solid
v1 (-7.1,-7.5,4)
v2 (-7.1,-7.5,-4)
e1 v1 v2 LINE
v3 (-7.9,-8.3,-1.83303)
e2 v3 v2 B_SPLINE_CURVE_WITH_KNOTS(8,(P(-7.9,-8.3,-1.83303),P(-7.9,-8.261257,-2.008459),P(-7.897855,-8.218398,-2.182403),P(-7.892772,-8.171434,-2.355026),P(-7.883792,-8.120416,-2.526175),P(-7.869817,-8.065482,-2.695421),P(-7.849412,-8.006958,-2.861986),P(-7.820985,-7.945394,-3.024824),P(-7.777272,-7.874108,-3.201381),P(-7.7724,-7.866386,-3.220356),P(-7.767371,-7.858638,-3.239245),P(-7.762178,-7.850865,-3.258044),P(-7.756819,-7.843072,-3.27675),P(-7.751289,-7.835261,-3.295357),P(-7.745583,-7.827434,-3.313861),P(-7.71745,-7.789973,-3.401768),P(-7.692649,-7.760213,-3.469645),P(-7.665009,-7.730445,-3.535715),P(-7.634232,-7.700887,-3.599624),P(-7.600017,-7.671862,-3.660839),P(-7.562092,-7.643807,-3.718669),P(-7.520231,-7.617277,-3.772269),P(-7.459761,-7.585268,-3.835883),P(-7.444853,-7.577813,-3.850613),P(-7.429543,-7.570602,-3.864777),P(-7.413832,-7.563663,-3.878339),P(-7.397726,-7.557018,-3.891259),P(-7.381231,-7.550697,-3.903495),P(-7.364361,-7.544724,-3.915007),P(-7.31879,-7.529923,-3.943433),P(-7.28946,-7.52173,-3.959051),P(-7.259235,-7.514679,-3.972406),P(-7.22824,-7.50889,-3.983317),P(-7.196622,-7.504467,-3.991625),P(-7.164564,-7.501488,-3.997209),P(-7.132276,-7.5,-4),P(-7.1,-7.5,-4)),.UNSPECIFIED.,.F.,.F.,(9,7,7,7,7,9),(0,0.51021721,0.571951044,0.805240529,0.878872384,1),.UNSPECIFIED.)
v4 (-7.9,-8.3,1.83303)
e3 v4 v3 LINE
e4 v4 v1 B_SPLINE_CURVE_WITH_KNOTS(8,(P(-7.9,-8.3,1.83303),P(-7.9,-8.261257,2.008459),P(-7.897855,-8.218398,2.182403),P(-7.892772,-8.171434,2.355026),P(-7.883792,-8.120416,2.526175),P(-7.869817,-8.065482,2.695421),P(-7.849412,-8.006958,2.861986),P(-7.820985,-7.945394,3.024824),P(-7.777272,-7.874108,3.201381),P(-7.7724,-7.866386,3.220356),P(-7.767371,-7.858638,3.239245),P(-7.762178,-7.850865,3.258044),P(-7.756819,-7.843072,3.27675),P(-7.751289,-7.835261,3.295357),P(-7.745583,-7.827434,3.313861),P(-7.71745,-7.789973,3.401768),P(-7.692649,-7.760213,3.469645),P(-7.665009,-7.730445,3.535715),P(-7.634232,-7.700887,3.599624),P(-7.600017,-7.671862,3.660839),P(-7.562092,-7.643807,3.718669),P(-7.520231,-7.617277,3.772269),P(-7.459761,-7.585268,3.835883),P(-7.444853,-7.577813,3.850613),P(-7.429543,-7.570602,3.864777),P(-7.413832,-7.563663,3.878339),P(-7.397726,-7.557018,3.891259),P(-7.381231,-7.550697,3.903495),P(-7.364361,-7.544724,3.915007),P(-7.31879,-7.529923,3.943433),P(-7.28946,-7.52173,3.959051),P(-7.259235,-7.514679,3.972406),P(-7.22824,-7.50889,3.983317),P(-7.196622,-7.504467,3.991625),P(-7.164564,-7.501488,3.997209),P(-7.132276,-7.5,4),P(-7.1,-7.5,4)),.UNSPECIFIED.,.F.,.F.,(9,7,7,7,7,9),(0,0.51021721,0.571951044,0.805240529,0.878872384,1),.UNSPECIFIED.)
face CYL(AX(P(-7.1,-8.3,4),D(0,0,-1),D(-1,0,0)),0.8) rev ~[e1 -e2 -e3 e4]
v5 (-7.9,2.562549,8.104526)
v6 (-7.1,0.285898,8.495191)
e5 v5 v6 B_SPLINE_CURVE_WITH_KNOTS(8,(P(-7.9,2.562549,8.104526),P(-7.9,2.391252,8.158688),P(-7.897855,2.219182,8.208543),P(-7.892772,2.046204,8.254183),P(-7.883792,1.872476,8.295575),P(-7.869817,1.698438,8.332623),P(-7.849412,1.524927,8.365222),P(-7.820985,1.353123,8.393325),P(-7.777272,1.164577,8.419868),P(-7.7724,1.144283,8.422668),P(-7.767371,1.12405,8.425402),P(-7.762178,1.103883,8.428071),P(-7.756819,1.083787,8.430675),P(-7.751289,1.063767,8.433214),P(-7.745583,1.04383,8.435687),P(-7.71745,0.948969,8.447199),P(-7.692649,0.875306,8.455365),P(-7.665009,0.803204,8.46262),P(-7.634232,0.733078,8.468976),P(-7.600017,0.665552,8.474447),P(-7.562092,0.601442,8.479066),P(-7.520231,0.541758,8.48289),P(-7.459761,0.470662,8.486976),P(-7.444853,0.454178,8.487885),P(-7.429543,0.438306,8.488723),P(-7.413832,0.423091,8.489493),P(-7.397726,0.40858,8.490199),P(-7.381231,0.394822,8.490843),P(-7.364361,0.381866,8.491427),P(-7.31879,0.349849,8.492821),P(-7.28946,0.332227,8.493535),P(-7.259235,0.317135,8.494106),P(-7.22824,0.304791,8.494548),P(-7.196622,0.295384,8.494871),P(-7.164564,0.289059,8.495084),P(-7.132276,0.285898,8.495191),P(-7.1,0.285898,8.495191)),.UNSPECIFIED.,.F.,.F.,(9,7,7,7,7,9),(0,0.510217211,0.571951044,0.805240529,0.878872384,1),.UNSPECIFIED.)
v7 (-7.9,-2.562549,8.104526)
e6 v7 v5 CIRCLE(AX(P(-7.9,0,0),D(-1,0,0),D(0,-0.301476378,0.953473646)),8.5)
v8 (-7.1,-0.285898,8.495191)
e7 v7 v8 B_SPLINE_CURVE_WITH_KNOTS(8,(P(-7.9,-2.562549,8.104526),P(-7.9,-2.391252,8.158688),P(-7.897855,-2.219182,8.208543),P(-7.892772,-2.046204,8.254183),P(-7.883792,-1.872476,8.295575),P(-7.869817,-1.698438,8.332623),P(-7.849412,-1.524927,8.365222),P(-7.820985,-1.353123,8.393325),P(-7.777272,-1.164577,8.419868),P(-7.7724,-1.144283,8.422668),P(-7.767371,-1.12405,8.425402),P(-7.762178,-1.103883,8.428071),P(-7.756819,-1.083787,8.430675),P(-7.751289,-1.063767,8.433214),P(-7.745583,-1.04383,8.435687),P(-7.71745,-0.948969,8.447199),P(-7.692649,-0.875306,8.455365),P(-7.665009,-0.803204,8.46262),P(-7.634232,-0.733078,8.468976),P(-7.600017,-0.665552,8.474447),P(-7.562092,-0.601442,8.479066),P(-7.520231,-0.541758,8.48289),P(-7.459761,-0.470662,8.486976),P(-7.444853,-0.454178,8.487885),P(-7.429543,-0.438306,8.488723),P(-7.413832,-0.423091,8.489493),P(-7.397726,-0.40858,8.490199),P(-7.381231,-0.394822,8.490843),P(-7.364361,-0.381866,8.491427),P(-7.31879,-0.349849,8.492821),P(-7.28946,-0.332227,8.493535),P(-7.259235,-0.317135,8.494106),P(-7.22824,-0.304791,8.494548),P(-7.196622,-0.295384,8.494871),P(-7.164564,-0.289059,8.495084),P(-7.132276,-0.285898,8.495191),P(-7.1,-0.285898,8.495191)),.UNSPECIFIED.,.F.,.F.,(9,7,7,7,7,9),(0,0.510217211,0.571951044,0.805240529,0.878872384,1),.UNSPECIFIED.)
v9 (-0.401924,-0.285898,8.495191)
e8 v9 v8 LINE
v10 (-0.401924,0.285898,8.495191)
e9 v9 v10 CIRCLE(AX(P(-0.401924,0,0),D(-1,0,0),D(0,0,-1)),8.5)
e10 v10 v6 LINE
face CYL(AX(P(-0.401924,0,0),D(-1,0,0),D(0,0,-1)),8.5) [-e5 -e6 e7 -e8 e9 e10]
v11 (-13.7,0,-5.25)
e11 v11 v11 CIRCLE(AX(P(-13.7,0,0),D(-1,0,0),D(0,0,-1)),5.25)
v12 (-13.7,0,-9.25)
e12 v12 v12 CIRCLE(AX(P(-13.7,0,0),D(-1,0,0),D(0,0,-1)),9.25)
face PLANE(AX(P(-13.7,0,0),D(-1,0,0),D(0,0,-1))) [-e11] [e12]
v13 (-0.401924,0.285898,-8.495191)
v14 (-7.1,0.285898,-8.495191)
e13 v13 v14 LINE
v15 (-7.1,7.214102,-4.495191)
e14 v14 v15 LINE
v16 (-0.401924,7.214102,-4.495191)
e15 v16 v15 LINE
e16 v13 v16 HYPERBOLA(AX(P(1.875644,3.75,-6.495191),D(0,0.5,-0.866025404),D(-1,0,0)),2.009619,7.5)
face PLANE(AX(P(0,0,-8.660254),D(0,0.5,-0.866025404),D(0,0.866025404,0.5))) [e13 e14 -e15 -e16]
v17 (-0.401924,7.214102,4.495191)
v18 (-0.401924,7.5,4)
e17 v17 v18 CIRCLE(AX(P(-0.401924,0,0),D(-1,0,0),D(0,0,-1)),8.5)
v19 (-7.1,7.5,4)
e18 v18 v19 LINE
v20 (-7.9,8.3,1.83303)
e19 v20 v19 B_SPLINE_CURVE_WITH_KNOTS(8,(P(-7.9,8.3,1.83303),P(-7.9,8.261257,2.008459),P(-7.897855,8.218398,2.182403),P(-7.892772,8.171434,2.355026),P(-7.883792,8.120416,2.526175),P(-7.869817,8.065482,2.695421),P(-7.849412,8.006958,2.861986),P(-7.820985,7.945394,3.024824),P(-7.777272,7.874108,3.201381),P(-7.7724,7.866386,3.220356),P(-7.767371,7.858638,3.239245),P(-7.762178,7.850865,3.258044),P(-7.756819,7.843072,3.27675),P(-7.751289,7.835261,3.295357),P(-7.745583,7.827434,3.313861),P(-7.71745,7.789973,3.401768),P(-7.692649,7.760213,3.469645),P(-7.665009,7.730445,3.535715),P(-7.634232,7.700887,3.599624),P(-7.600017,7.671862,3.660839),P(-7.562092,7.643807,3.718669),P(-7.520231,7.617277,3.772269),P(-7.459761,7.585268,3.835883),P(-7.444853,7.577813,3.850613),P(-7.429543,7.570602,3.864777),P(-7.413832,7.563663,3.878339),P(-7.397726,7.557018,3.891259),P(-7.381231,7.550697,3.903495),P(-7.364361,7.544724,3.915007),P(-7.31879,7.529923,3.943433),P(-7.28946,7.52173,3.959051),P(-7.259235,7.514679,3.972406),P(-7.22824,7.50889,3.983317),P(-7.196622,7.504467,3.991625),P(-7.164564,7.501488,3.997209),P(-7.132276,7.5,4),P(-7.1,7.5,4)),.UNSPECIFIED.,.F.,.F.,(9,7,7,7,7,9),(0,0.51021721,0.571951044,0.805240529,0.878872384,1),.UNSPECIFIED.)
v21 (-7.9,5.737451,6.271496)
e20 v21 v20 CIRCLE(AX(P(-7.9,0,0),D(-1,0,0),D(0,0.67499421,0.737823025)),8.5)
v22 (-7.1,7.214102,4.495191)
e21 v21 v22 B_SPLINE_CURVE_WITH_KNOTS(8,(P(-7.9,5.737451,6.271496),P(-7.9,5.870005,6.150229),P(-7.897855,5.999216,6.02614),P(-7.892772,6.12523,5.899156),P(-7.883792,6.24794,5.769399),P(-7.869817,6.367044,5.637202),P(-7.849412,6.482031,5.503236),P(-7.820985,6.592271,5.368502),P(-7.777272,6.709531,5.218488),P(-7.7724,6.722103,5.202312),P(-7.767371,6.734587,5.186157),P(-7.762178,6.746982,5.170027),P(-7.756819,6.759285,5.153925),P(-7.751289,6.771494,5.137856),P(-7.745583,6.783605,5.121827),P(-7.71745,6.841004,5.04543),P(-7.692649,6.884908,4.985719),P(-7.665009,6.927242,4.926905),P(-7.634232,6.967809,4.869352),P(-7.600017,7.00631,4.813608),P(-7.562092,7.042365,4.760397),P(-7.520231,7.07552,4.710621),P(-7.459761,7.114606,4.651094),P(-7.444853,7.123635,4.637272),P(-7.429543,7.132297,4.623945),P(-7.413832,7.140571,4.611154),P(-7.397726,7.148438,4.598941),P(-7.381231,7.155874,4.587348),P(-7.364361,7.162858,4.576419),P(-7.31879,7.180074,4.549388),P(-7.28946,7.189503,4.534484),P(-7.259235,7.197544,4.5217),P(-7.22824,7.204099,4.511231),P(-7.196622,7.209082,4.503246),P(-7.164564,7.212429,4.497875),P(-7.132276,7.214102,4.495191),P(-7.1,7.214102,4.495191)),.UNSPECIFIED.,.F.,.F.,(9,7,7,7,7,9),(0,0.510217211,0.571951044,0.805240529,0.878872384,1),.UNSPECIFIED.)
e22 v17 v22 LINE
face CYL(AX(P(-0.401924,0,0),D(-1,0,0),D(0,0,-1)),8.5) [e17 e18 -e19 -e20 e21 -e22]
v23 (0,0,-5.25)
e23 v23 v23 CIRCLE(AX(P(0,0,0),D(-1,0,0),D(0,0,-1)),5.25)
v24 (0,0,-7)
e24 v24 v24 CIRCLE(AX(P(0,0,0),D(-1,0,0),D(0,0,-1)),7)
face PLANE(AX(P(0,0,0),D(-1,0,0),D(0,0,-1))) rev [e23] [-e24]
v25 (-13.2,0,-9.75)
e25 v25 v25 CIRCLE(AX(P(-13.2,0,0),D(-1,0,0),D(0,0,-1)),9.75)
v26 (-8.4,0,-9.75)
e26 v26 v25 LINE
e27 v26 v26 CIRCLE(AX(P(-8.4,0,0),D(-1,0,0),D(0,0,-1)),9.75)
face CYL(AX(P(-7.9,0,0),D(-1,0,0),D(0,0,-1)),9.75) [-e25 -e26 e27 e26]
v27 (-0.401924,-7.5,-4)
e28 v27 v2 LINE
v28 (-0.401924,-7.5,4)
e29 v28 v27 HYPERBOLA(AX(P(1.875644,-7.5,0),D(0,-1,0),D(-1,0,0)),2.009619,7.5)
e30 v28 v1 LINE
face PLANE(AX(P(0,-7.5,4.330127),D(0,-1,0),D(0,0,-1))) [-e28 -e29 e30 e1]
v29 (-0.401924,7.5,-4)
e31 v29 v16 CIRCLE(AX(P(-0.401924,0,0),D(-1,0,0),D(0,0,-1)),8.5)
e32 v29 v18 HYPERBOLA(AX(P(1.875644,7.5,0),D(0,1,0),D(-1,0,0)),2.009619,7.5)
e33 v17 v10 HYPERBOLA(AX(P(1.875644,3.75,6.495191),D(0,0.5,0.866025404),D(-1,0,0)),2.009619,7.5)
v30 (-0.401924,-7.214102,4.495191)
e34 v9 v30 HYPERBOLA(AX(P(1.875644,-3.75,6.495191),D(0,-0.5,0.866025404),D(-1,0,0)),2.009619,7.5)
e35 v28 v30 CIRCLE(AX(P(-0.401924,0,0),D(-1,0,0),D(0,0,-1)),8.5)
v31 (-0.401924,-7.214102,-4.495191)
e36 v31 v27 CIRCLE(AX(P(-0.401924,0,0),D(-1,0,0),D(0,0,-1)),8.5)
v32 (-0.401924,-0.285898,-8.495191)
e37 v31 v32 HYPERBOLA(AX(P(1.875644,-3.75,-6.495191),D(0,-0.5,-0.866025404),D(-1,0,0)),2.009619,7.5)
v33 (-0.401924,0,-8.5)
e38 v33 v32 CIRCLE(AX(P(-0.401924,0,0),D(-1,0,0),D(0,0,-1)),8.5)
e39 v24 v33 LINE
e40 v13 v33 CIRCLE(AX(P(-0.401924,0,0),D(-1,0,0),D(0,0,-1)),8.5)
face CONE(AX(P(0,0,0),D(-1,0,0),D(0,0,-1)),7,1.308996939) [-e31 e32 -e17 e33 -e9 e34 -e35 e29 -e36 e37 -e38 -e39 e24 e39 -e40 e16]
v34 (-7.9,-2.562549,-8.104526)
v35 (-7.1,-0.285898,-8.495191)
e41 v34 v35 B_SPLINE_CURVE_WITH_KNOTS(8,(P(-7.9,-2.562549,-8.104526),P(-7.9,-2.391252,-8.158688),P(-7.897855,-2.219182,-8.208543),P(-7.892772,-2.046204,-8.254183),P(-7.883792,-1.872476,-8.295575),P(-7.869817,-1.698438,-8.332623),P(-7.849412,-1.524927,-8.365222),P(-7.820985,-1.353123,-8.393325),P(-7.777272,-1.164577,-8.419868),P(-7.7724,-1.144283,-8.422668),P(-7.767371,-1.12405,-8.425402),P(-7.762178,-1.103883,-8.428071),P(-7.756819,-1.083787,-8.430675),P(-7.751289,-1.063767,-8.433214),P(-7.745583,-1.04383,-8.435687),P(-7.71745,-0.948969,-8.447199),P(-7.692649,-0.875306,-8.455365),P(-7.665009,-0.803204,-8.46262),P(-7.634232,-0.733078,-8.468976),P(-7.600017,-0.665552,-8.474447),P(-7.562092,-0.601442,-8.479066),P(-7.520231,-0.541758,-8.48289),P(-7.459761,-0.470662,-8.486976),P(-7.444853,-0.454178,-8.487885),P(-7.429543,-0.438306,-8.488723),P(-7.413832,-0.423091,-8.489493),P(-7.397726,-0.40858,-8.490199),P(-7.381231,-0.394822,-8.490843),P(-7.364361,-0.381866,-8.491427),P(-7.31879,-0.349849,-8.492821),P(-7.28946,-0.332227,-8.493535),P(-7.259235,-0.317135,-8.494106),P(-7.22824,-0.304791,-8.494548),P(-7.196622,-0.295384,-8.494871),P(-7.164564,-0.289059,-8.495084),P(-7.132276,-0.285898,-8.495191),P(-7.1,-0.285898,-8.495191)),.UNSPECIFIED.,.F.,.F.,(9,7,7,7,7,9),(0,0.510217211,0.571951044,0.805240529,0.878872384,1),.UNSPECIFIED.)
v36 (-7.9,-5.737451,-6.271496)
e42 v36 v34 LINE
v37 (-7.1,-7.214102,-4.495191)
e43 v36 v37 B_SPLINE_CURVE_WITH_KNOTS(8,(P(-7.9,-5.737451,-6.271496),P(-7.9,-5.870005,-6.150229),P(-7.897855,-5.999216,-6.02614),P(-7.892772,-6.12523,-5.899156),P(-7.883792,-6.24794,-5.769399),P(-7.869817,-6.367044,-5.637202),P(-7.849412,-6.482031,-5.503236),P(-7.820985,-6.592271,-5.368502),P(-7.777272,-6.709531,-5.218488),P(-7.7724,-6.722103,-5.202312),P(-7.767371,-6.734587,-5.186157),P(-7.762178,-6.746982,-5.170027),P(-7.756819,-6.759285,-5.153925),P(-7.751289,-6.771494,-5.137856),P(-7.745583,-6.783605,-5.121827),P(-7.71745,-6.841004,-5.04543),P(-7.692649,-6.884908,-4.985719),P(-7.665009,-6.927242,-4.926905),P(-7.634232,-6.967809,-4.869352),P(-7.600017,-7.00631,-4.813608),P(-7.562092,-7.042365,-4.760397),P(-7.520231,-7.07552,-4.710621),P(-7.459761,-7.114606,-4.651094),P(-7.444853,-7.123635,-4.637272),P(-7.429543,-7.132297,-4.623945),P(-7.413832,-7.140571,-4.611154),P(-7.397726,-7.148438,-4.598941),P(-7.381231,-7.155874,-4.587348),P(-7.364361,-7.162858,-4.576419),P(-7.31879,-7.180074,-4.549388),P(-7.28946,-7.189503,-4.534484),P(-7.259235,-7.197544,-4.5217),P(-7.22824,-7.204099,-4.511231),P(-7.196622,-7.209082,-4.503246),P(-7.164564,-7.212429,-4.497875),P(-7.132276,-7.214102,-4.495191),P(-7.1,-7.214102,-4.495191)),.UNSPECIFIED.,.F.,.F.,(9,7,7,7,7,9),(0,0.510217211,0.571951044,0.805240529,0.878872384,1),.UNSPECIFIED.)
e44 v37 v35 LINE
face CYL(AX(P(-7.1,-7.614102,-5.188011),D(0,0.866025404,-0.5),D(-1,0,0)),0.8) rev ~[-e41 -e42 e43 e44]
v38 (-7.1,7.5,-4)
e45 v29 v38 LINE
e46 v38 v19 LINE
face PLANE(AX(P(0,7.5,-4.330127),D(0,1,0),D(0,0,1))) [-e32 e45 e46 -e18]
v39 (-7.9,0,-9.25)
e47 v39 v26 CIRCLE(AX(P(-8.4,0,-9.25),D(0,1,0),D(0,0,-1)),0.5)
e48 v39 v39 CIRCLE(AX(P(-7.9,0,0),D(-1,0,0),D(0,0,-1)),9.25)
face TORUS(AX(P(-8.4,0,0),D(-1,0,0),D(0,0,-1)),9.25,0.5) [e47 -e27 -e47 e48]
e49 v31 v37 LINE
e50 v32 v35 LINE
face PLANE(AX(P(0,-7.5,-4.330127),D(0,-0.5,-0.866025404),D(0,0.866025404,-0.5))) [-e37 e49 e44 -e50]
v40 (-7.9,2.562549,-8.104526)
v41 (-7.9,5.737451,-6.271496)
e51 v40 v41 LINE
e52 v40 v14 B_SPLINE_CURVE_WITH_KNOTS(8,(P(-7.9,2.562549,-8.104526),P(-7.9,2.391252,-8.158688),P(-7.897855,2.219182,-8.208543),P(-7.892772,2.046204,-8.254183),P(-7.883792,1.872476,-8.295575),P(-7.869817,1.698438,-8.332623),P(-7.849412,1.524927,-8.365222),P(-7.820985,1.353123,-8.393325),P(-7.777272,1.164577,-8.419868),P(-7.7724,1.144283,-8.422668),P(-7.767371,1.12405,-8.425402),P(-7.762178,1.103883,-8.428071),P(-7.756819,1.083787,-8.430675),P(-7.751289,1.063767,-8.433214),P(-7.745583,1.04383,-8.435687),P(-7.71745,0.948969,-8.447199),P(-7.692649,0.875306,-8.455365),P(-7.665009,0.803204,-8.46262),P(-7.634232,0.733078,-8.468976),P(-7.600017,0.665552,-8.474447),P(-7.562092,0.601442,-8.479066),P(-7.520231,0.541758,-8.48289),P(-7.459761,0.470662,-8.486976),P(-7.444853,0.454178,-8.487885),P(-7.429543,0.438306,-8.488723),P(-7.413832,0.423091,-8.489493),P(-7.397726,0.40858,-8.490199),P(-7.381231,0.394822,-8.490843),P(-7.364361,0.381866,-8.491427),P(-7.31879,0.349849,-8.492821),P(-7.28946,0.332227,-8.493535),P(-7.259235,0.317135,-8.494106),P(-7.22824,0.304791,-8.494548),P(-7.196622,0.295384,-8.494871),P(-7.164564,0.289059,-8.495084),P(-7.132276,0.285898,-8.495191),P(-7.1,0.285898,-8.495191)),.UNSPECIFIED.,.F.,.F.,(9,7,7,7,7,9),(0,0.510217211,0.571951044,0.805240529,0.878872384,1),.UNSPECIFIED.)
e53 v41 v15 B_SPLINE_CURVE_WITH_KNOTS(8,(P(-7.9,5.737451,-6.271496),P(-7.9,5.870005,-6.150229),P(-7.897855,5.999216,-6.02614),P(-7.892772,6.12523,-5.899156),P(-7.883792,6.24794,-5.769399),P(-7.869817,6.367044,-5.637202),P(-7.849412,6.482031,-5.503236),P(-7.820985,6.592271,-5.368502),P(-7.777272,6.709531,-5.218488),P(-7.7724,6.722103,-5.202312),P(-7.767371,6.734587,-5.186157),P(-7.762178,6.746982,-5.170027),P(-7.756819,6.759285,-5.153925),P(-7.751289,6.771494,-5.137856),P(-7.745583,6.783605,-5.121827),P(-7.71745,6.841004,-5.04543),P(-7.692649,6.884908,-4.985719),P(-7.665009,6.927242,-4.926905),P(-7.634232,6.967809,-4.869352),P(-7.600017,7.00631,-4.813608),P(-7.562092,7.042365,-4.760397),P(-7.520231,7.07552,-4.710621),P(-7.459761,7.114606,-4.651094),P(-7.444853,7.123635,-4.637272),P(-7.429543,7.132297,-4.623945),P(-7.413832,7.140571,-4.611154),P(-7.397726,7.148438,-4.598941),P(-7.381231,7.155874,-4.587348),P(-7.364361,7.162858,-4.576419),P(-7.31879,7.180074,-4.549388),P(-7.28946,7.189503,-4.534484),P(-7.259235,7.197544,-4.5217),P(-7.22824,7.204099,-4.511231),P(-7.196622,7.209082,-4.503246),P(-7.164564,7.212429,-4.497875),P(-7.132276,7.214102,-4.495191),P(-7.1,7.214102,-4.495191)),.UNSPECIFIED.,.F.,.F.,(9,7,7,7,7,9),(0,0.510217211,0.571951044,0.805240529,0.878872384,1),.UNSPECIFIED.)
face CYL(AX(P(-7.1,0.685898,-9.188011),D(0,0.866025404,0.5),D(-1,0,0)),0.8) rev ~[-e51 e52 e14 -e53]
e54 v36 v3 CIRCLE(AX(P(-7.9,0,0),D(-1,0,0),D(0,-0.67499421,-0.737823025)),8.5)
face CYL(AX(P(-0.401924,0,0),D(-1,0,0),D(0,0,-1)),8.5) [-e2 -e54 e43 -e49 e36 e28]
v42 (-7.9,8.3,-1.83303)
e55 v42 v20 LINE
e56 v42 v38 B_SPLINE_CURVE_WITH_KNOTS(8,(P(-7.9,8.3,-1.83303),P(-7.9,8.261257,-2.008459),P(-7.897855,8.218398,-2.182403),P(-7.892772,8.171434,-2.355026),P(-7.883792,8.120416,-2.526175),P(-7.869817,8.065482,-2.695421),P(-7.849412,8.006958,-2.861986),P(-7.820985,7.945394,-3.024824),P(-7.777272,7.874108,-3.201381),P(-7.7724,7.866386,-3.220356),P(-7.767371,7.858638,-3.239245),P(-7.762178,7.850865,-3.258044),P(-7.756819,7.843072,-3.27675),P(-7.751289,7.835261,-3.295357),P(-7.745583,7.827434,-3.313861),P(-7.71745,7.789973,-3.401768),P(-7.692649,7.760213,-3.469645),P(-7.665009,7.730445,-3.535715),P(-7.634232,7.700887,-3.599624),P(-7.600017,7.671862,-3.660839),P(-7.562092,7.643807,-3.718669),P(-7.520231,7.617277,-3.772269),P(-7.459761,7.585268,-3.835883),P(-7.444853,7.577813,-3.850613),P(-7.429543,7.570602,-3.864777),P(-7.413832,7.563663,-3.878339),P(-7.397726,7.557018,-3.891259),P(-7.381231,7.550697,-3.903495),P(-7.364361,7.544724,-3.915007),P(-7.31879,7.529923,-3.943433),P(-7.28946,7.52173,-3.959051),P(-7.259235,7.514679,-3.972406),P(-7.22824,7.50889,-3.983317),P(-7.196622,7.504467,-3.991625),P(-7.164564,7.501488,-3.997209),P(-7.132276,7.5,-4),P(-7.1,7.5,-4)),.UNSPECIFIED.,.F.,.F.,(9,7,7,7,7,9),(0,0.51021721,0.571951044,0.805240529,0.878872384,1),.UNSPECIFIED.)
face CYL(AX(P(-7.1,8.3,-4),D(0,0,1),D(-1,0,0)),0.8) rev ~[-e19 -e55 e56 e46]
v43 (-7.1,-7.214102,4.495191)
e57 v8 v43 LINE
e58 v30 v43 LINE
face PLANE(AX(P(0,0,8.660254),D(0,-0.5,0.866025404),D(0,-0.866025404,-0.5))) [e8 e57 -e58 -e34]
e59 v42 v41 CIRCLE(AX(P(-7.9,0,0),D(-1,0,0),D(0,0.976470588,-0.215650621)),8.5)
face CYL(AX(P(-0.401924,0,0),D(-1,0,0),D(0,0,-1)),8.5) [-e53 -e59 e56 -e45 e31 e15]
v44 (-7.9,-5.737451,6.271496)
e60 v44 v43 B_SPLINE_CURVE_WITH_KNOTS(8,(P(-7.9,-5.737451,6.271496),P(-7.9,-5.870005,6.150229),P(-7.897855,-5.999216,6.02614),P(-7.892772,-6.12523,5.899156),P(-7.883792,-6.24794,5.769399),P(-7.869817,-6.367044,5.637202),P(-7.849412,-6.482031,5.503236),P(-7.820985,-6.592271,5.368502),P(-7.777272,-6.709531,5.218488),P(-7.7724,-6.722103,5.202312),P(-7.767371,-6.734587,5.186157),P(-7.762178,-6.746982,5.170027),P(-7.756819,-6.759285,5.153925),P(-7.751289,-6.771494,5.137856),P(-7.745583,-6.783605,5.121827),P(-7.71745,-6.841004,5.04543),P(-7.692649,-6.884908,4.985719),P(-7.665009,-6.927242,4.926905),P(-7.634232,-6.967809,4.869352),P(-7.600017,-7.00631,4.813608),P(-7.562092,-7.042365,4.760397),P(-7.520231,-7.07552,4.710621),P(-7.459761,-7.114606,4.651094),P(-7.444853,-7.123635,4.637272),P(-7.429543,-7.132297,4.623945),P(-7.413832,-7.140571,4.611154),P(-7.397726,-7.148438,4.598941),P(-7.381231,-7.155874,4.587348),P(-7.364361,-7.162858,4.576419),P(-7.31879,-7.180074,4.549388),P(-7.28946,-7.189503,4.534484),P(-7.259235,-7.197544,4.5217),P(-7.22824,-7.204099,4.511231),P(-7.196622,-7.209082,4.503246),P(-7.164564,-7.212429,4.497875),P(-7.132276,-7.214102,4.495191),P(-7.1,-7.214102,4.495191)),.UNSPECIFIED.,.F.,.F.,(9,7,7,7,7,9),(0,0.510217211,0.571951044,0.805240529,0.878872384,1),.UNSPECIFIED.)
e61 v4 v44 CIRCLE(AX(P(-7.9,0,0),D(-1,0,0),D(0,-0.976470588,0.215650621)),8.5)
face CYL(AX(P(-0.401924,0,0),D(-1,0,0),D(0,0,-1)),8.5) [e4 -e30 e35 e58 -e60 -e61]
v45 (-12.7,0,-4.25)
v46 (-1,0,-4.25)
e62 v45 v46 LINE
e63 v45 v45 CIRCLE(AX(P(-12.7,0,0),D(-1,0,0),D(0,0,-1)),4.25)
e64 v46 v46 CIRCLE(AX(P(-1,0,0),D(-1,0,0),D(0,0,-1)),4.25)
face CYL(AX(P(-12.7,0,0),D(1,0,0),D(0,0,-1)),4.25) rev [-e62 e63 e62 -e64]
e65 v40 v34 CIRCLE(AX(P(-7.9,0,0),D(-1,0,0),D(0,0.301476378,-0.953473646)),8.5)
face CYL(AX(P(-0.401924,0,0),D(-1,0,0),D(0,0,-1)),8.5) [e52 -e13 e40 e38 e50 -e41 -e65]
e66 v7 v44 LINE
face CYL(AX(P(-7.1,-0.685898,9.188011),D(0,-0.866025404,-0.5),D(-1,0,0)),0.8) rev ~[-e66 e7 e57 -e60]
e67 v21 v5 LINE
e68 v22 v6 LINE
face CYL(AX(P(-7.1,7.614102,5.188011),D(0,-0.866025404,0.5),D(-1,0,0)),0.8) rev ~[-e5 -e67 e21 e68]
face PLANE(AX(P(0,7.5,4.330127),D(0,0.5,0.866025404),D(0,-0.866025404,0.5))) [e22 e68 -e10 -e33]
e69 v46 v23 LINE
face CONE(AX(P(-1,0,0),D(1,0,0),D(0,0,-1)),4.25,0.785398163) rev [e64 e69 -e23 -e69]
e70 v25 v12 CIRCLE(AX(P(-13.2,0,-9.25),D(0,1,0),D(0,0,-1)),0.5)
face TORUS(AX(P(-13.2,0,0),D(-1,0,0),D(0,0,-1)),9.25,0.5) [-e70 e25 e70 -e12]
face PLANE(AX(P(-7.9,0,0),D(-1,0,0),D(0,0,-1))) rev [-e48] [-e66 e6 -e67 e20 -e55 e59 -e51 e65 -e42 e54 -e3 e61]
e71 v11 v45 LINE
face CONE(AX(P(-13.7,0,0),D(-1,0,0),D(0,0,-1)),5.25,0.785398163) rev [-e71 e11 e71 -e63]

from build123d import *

# Parameters (mm, degrees)
SKETCH2_OUTSIDE_W  = 27.658
SKETCH2_OUTSIDE_H  = 27.658
CUT_EXTRUDE1_DEPTH = 7.9
FILLET1_R          = 0.5
FILLET2_R          = 0.8


with BuildPart() as part:
    # Sketch1 → Revolve1 (revolve)
    with BuildSketch(Plane.XY, mode=Mode.PRIVATE) as revolve1_sk:
        Polygon((0, 5.25), (0, 7), (-0.401923789, 8.5), (-7.9, 8.5), (-7.9, 9.75), (-13.7, 9.75), (-13.7, 5.25), (-12.7, 4.25), (-1, 4.25), align=None)
    revolve(revolve1_sk.sketch.rotate(Axis((0, 0, 0), (-1, 0, 0)), 90), axis=Axis((0, 0, 0), (-1, 0, 0)))

    # Sketch2 outside → Cut-Extrude1 (cut)
    with BuildSketch(Plane(origin=(0, 0, 0), x_dir=(0, 0, -1), z_dir=(1, 0, 0))):
        Rectangle(SKETCH2_OUTSIDE_W, SKETCH2_OUTSIDE_H)
        Polygon((8.660254038, 0), (4.330127019, 7.5), (-4.330127019, 7.5), (-8.660254038, 0), (-4.330127019, -7.5), (4.330127019, -7.5), align=None, mode=Mode.SUBTRACT)
    extrude(amount=-CUT_EXTRUDE1_DEPTH, mode=Mode.SUBTRACT)

    # Fillet1
    fillet1_edges = [part.edges().sort_by_distance(p)[0] for p in [
        (-7.9, 0, 9.75),
        (-13.7, 0, 9.75),
    ]]
    fillet(fillet1_edges, radius=FILLET1_R)

    # Fillet2
    fillet2_edges = [part.edges().sort_by_distance(p)[0] for p in [
        (-7.9, 3.75, -6.495190528),
        (-7.9, 7.5, 0),
        (-7.9, 3.75, 6.495190528),
        (-7.9, -3.75, 6.495190528),
        (-7.9, -7.5, 0),
        (-7.9, -3.75, -6.495190528),
    ]]
    fillet(fillet2_edges, radius=FILLET2_R)


solid = part.part
